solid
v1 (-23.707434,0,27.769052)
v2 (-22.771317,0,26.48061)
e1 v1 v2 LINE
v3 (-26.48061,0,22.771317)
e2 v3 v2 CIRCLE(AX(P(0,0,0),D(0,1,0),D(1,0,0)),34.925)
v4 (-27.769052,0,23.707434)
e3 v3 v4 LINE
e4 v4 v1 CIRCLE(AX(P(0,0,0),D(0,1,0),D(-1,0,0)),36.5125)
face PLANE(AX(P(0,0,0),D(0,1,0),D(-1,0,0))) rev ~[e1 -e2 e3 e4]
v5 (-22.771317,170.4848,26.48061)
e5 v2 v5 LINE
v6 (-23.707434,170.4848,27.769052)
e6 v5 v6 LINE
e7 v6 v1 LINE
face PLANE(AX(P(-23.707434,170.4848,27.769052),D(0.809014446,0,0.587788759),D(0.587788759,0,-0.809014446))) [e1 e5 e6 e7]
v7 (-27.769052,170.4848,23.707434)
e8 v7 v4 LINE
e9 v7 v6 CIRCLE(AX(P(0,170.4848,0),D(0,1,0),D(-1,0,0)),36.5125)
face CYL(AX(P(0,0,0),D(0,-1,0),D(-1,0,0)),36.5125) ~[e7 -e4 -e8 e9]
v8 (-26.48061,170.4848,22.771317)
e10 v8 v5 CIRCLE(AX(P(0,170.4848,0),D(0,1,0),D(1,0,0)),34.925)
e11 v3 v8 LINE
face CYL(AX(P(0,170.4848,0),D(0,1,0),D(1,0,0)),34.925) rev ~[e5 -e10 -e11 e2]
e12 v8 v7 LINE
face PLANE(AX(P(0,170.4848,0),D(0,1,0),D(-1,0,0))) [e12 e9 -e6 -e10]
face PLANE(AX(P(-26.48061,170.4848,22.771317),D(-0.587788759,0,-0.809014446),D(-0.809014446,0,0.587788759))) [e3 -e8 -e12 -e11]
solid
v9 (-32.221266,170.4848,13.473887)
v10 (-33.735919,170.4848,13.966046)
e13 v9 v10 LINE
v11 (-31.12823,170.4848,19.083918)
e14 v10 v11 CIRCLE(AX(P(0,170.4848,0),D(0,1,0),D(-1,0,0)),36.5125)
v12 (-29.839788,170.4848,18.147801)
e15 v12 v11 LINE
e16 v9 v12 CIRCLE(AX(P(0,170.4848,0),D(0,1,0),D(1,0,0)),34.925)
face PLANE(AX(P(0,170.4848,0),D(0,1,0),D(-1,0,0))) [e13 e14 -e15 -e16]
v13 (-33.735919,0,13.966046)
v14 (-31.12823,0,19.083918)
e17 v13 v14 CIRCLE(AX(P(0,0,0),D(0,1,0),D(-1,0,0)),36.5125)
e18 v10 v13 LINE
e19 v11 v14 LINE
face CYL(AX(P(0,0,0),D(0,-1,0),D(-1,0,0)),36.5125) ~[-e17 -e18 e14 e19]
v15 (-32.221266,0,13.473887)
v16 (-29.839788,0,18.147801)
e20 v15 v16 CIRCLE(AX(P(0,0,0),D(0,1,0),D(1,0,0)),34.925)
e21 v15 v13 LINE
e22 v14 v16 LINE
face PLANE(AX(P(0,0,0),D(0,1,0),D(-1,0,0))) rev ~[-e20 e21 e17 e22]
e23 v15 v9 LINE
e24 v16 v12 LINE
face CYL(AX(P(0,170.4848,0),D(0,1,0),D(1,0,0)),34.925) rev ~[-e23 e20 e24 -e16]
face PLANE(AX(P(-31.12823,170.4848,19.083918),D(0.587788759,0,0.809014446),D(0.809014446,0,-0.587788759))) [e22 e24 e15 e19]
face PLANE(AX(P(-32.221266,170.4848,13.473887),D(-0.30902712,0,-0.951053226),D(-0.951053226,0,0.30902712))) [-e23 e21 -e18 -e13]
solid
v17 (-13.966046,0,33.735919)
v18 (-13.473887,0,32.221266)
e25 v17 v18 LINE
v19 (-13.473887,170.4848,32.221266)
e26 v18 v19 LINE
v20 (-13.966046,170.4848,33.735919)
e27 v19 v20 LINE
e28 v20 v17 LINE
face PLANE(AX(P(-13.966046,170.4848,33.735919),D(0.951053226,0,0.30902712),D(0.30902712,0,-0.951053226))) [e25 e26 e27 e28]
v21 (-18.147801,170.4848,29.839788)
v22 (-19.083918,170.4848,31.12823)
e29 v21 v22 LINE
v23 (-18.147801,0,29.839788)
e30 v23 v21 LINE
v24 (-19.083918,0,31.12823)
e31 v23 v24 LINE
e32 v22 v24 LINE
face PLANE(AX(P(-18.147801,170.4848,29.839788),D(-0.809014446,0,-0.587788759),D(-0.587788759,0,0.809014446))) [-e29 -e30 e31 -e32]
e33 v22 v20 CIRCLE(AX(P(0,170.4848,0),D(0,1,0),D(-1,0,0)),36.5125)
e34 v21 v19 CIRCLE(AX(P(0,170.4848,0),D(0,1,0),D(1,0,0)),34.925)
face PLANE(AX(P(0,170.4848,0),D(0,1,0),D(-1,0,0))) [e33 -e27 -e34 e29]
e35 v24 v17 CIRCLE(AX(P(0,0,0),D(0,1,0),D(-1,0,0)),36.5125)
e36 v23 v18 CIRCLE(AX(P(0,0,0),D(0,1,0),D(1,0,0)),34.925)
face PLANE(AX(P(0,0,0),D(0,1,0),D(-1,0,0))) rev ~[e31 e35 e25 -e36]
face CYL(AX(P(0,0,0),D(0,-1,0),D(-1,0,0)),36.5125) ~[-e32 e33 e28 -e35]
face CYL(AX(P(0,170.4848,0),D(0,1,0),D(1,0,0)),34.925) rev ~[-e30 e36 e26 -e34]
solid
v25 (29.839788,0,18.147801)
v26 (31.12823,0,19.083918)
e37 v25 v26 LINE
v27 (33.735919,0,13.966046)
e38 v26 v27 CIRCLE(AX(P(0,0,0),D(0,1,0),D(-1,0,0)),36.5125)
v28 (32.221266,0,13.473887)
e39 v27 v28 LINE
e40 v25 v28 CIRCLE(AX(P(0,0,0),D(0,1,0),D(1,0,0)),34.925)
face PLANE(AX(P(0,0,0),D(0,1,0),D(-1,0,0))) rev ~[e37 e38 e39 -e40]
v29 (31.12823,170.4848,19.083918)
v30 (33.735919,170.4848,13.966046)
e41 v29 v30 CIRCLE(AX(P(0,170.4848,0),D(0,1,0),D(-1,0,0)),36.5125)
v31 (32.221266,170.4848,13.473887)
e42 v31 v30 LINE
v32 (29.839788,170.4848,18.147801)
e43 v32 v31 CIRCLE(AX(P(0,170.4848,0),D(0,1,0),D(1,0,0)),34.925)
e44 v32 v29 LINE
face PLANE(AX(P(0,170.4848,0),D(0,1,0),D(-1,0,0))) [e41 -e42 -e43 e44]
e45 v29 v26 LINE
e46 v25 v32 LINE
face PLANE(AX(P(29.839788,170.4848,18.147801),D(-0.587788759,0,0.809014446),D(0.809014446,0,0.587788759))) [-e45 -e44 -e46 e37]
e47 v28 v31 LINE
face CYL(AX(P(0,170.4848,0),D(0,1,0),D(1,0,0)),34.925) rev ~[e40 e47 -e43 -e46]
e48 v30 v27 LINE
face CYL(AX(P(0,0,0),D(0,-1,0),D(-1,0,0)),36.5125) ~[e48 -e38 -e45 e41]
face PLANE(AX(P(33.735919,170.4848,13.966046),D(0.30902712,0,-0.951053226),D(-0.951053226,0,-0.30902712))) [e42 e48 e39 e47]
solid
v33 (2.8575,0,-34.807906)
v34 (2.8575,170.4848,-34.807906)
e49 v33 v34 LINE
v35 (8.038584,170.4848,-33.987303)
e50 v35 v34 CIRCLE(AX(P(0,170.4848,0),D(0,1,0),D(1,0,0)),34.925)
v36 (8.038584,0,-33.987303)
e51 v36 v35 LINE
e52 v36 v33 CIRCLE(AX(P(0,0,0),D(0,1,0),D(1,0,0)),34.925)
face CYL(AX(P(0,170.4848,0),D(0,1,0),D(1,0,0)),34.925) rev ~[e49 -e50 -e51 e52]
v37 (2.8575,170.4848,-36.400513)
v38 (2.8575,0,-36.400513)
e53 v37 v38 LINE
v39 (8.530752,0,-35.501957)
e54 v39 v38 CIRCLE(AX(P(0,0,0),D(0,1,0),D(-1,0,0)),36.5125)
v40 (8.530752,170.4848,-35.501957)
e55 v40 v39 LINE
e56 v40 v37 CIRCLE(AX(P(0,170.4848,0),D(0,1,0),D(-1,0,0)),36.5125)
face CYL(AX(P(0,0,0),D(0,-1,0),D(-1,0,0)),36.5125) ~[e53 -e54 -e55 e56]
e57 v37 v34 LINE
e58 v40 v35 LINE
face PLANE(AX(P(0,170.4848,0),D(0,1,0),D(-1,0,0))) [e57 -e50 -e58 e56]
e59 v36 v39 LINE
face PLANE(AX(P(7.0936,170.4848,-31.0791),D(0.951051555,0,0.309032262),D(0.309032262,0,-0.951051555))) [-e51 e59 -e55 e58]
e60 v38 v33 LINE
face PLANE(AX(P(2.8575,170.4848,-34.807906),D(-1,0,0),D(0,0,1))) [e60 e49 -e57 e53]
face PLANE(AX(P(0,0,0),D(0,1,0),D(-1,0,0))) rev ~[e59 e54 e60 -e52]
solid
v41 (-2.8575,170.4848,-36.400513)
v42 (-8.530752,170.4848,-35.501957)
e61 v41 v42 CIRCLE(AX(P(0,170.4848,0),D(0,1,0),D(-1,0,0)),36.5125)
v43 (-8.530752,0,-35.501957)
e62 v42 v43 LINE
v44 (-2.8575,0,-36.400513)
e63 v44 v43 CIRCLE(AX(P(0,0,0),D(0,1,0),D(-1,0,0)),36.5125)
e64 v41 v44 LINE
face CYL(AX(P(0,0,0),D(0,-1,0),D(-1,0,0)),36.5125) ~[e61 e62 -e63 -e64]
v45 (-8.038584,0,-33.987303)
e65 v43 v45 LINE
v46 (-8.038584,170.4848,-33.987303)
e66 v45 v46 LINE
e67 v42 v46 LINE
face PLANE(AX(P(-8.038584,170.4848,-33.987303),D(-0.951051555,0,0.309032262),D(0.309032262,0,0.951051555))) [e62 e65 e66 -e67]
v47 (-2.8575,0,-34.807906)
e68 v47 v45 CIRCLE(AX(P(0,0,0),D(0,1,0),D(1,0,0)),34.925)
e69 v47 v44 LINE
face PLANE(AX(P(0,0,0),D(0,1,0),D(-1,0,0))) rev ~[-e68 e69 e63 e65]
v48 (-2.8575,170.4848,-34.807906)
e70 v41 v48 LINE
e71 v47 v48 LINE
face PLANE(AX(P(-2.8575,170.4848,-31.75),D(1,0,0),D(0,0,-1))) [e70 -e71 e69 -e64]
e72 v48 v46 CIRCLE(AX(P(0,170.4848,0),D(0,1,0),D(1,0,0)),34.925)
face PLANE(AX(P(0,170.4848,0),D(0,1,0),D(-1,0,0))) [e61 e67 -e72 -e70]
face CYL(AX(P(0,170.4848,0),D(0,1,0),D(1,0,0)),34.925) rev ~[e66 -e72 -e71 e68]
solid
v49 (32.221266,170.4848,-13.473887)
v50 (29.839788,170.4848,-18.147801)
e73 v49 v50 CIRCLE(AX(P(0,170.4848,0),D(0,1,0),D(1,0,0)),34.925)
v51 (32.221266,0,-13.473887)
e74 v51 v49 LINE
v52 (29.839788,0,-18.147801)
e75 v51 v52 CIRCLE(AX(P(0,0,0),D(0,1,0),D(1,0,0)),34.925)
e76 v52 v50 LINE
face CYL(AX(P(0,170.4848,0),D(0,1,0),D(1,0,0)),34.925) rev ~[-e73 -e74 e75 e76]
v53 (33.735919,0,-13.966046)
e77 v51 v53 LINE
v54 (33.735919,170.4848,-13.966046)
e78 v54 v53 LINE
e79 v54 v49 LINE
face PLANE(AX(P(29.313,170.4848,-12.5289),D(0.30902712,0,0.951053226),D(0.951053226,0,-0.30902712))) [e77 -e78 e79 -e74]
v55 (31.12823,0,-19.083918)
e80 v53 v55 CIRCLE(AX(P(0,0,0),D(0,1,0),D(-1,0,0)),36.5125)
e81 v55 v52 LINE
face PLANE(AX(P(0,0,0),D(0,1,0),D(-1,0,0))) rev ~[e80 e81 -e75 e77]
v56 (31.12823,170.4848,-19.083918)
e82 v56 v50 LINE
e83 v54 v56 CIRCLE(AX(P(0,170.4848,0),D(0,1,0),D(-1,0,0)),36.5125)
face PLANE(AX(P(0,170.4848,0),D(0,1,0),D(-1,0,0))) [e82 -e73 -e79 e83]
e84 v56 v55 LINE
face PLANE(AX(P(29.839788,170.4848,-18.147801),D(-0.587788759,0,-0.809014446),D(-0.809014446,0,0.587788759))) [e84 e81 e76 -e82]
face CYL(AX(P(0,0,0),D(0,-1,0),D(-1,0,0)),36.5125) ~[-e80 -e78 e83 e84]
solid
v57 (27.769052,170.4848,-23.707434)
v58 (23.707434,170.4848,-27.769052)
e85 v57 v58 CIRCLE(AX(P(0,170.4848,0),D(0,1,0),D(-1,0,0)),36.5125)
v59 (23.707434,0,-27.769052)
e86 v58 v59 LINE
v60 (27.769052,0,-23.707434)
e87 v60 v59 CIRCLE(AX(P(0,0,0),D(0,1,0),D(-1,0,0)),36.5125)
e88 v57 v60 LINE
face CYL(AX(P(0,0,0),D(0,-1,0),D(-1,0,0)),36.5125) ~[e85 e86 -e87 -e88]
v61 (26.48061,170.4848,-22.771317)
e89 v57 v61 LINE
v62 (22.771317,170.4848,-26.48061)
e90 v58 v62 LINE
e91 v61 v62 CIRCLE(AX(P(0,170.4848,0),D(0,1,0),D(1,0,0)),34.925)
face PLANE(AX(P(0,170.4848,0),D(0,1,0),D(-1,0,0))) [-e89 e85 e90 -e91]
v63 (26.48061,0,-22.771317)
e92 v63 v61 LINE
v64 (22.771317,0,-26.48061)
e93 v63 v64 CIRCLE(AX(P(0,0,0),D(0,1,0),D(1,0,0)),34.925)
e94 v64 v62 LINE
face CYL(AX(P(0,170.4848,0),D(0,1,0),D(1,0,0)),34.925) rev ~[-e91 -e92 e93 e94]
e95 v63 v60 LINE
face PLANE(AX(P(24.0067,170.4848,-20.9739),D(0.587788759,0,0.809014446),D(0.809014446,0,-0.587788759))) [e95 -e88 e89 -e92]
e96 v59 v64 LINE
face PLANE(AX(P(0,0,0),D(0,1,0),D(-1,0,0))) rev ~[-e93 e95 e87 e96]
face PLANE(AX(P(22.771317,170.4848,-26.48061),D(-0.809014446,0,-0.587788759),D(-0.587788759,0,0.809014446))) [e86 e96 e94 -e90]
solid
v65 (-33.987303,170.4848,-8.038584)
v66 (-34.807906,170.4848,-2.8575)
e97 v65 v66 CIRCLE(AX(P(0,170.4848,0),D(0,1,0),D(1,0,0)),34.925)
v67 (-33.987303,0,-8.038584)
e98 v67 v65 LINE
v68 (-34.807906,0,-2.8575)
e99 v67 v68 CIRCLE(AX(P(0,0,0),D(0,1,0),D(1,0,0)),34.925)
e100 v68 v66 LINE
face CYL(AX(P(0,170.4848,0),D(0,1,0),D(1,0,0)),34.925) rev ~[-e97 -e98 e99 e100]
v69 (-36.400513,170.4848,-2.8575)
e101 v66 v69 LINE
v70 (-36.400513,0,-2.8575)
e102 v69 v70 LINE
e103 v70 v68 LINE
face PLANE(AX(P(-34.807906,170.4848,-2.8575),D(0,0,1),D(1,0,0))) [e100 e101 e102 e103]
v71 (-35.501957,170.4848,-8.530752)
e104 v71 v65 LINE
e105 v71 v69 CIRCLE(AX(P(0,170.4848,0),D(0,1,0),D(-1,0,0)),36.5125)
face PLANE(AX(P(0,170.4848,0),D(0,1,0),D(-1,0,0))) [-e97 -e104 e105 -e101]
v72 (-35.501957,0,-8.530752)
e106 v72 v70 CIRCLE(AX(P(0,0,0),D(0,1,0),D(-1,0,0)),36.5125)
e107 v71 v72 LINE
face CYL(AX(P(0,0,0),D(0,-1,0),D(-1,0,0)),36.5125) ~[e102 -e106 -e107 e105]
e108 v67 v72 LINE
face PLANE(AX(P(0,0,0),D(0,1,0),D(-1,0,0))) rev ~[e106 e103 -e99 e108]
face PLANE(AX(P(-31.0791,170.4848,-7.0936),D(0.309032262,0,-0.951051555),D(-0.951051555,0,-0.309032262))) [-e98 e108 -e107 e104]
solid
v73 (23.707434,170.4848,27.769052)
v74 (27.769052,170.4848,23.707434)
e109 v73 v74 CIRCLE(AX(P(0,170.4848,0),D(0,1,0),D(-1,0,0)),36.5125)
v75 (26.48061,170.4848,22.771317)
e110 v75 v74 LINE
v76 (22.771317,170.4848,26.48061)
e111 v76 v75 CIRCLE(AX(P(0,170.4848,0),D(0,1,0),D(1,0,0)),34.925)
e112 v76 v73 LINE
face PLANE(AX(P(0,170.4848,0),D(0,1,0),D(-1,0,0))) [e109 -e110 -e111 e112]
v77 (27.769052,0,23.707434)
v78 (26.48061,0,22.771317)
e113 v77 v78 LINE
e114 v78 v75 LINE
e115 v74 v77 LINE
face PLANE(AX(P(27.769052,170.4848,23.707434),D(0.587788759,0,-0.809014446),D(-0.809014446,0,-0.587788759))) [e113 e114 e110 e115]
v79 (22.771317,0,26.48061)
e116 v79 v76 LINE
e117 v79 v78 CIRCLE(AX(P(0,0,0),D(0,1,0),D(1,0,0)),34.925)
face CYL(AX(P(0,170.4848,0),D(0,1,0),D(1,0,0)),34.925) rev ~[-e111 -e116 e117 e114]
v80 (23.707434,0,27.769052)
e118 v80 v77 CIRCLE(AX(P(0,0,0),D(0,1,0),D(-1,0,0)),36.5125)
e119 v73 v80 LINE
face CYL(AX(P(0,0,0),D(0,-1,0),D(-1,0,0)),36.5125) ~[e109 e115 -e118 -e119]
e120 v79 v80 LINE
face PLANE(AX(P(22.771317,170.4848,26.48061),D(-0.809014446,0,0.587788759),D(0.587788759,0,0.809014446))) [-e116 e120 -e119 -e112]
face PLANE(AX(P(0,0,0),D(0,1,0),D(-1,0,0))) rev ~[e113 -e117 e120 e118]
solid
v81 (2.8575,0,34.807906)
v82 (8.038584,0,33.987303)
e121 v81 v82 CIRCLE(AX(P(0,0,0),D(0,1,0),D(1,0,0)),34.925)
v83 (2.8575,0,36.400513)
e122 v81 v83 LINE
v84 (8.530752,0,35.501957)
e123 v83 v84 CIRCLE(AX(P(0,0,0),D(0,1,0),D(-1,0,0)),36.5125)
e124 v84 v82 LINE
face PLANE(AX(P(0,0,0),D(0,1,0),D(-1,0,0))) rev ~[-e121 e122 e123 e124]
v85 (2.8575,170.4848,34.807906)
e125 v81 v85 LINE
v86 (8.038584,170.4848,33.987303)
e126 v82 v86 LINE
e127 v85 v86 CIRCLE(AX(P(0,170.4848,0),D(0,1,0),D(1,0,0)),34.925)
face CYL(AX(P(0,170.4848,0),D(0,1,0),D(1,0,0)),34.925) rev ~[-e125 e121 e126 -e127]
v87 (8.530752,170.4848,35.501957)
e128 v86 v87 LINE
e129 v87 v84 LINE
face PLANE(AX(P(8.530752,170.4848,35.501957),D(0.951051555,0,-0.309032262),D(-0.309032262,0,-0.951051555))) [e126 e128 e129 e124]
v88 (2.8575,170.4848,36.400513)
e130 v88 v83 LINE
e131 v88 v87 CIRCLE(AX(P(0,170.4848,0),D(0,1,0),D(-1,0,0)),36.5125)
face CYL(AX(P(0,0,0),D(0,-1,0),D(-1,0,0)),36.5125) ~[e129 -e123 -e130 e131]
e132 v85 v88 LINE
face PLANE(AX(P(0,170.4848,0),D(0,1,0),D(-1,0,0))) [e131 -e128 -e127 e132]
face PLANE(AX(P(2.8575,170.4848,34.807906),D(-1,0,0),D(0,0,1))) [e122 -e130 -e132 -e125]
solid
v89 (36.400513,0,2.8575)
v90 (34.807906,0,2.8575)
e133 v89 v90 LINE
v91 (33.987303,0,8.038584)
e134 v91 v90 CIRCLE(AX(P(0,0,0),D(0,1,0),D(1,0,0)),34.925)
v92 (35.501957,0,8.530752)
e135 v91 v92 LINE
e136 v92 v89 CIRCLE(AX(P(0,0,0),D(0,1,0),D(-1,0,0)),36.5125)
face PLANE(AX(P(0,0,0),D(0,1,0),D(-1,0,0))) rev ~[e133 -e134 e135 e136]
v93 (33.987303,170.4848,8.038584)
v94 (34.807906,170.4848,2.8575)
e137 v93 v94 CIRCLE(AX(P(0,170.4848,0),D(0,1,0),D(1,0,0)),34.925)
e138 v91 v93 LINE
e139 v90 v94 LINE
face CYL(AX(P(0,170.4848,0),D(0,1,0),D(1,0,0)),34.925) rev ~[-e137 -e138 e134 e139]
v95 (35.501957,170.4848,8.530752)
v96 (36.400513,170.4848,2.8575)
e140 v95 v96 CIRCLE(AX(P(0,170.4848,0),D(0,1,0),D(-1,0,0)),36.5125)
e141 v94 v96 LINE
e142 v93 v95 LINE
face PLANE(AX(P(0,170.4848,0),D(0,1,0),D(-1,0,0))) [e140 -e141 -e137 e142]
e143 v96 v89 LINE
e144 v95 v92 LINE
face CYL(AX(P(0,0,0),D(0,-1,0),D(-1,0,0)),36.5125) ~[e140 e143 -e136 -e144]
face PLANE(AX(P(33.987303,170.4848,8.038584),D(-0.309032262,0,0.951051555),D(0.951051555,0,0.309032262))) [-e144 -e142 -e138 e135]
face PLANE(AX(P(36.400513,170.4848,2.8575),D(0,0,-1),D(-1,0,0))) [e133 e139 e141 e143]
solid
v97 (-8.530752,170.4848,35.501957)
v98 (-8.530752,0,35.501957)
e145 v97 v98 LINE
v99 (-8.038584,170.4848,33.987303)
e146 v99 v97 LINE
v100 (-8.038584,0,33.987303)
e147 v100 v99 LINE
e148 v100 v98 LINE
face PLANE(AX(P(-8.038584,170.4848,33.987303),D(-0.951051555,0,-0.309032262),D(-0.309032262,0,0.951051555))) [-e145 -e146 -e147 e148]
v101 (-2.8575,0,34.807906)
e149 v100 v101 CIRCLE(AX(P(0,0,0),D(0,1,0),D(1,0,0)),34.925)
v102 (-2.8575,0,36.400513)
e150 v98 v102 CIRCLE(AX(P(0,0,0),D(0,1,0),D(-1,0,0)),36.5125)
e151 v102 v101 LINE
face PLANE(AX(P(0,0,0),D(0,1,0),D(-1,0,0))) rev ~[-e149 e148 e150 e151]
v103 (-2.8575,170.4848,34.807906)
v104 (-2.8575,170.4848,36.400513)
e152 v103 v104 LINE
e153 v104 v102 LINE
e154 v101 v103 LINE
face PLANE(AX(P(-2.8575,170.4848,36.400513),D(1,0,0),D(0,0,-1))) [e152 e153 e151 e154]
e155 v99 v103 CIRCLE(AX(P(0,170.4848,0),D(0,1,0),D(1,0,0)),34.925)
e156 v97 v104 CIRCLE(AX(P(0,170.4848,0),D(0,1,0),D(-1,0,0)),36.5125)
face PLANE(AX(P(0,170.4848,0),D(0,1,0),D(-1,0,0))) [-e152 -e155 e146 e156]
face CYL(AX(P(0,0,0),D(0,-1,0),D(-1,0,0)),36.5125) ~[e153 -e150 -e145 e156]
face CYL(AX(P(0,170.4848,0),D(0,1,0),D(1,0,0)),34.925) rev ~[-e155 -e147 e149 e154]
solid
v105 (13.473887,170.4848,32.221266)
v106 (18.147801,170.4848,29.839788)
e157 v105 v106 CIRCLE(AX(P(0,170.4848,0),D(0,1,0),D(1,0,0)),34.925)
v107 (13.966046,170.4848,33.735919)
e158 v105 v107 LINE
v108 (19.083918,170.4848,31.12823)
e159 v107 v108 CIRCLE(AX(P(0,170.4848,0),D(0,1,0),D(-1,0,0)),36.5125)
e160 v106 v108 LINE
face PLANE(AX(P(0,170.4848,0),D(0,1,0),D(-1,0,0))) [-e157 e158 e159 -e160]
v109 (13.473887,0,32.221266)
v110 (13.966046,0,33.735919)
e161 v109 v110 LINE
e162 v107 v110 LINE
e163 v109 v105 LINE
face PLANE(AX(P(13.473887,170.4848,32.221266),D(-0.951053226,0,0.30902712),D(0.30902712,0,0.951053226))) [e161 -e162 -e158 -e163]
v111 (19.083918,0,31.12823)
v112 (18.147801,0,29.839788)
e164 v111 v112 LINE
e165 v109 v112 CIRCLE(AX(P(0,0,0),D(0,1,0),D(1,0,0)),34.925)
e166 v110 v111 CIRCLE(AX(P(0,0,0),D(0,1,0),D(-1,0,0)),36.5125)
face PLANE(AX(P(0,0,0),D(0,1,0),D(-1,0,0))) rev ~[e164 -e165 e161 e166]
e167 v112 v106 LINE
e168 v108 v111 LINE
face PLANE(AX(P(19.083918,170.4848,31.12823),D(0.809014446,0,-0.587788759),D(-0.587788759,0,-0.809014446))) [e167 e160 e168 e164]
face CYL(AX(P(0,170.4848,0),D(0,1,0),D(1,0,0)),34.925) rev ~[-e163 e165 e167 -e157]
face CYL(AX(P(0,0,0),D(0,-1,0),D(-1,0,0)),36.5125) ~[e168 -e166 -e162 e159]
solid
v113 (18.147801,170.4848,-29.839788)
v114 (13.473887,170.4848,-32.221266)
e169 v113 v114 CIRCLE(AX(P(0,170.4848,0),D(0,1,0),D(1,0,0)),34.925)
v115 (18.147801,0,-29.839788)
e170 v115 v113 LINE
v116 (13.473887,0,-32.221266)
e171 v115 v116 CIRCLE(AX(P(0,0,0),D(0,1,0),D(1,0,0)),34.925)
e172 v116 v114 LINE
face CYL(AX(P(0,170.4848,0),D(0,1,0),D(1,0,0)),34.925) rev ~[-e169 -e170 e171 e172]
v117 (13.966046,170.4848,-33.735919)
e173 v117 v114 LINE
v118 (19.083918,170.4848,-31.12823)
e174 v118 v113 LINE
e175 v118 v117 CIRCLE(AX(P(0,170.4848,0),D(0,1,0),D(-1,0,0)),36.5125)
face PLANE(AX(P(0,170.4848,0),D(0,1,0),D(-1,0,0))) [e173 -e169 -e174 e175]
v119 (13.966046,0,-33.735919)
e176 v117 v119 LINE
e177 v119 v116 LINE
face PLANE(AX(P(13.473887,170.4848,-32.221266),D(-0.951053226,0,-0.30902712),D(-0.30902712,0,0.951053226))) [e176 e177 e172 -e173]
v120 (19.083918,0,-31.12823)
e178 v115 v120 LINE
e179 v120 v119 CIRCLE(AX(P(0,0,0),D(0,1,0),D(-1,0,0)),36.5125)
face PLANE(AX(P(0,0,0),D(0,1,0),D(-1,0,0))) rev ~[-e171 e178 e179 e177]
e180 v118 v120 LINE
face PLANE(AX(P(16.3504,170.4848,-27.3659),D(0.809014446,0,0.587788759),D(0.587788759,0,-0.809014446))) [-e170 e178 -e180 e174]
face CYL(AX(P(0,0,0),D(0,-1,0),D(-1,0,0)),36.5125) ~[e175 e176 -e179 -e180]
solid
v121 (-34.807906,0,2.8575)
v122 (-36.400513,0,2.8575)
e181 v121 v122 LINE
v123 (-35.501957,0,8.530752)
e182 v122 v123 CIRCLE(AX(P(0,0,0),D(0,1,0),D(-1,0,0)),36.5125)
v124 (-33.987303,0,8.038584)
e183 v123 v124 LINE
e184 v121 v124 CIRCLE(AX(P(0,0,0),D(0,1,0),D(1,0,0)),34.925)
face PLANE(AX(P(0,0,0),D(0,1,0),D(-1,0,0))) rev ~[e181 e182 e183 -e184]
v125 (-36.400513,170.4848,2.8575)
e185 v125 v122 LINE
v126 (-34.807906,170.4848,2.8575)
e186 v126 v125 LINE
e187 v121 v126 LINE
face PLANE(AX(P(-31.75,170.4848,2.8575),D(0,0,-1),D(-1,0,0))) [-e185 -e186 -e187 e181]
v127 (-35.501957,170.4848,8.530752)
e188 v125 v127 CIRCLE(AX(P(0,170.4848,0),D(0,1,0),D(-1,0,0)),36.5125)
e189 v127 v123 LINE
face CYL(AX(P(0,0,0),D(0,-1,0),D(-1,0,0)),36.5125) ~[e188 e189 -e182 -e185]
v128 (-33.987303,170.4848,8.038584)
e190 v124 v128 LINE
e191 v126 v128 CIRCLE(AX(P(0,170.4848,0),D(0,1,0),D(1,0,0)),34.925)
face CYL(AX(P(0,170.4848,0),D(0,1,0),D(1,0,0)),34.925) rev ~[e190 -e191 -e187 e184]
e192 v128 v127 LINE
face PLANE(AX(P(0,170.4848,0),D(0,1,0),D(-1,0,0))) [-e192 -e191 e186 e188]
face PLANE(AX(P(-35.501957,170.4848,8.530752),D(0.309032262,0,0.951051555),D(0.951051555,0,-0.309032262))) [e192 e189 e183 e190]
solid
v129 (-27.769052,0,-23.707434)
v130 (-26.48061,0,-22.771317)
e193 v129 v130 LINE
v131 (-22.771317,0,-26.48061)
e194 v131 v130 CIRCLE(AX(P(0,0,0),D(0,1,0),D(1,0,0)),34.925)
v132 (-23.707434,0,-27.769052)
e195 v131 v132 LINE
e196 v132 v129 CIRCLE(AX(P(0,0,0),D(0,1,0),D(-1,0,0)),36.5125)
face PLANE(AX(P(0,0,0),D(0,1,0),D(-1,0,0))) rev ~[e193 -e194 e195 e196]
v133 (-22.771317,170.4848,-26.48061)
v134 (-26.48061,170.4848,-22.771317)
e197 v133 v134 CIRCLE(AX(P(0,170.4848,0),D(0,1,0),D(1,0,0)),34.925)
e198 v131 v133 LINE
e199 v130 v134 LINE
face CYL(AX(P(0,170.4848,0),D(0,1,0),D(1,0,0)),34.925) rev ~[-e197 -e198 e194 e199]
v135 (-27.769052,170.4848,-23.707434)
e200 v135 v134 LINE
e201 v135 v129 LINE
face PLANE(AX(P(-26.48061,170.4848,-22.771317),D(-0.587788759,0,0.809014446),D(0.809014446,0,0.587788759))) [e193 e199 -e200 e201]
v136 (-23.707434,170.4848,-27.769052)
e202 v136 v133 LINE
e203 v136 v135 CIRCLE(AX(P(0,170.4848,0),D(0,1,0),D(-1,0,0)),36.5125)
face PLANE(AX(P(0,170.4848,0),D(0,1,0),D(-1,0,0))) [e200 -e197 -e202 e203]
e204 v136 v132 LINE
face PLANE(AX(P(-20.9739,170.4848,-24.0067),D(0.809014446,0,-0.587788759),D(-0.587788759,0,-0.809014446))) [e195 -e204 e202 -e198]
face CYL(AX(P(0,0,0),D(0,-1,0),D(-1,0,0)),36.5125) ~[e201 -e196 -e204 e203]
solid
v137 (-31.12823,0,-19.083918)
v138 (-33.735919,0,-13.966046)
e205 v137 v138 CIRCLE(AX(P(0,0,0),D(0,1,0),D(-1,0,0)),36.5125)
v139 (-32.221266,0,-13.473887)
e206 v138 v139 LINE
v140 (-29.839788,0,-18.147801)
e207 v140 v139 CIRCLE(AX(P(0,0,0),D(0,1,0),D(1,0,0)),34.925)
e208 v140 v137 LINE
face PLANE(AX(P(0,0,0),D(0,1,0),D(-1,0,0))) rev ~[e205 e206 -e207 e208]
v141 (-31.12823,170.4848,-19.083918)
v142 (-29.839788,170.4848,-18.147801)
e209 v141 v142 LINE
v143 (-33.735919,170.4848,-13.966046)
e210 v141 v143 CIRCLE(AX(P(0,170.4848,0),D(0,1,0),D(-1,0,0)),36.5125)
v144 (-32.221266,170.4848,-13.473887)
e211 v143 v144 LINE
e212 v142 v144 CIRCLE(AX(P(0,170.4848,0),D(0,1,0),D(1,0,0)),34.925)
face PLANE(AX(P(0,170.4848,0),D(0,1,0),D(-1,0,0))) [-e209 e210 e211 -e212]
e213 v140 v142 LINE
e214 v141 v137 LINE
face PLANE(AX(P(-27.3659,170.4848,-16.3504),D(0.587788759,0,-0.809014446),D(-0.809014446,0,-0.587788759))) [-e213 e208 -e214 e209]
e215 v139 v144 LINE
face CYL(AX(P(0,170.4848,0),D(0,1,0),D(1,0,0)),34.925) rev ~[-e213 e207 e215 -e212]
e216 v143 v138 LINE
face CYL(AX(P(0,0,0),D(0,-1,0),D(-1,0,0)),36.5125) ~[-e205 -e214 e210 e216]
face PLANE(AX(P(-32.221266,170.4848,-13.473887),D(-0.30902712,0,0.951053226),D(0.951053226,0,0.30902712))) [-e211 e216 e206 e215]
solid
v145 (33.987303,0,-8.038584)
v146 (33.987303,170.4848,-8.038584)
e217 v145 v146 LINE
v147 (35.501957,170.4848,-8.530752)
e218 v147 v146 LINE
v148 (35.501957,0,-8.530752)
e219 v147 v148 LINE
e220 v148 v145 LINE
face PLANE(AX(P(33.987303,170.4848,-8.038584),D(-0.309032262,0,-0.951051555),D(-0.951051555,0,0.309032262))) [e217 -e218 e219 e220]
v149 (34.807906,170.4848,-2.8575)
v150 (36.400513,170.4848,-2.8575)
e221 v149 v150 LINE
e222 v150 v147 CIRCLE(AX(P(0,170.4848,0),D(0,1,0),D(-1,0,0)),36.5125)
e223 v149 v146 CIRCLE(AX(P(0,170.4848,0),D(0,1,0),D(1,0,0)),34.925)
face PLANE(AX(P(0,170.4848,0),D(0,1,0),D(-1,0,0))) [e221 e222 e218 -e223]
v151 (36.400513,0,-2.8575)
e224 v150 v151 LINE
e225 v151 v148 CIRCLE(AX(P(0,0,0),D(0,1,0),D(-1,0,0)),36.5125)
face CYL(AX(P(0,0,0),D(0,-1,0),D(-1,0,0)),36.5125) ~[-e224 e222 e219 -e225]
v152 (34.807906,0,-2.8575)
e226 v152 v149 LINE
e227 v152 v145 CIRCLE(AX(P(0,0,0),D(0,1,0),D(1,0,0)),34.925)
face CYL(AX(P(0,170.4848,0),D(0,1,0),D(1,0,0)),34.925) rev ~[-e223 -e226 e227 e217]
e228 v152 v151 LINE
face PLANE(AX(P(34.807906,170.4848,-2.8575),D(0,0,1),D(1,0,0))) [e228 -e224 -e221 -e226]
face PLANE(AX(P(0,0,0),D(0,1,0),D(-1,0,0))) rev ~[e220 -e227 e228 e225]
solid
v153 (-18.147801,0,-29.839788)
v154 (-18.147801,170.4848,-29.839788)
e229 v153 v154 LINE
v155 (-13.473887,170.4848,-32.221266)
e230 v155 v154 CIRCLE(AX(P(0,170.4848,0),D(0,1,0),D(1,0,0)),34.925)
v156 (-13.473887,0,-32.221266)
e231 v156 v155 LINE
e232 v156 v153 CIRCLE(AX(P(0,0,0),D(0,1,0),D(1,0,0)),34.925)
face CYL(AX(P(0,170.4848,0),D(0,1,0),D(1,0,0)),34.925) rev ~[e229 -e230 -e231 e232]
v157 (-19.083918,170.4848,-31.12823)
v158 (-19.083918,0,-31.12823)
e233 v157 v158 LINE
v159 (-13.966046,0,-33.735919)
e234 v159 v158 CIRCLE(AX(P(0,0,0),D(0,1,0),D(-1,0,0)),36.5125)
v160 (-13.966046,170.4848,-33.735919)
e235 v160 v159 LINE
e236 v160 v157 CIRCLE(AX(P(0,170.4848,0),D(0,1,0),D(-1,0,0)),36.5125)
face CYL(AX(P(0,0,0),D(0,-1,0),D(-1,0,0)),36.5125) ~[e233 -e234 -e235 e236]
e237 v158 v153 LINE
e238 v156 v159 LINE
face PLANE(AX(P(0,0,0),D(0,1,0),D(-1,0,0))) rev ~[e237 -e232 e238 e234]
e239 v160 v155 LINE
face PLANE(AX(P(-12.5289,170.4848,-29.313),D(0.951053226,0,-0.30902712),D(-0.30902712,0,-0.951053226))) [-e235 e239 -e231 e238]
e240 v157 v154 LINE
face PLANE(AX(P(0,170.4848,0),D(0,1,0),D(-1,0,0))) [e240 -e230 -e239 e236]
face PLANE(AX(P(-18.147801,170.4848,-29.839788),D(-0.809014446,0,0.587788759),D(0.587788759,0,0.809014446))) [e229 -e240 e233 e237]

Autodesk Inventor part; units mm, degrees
ref_plane "YZ Plane" through (0, 0, 0) normal (1, 0, 0) x (0, 1, 0)
ref_plane "XZ Plane" through (0, 0, 0) normal (0, 1, 0) x (-1, 0, 0)
ref_plane "XY Plane" through (0, 0, 0) normal (0, 0, 1) x (1, 0, 0)
sketch "Sketch1" plane through (0, 0, 0) normal (0, 1, 0) x (-1, 0, 0)
  circle A0 centre (0, 0) radius 36.5125
  dimension "d0" = 73.025
extrude "Extrusion1" add sketch "Sketch1" along normal blind 170.4848
sketch "Sketch2" plane through (0, 170.4848, 0) normal (0, 1, 0) x (1, 0, 0)
  circle A0 centre (0, 0) radius 34.925
  dimension "d3" = 69.85
extrude "Extrusion2" cut sketch "Sketch2" against normal through all
sketch "Sketch3" plane through (0, 170.4848, 0) normal (0, 1, 0) x (1, 0, 0)
  line L0 (-31.75, -2.8575) -> (-37.465, -2.8575)
  line L1 (-37.465, -2.8575) -> (-37.465, 2.8575)
  line L2 (-37.465, 2.8575) -> (-31.75, 2.8575)
  line L3 (-31.75, 2.8575) -> (-31.75, -2.8575)
  circle A0 centre (0, 0) radius 36.5125 projected
  line L4 (-29.313, -12.5289) -> (-34.7483, -14.295)
  line L5 (-34.7483, -14.295) -> (-36.5143, -8.8597)
  line L6 (-36.5143, -8.8597) -> (-31.0791, -7.0936)
  line L7 (-31.0791, -7.0936) -> (-29.313, -12.5289)
  line L8 (-24.0067, -20.9739) -> (-28.6302, -24.3331)
  line L9 (-28.6302, -24.3331) -> (-31.9894, -19.7096)
  line L10 (-31.9894, -19.7096) -> (-27.3659, -16.3504)
  line L11 (-27.3659, -16.3504) -> (-24.0067, -20.9739)
  line L12 (-16.3504, -27.3659) -> (-19.7096, -31.9894)
  line L13 (-19.7096, -31.9894) -> (-24.3331, -28.6302)
  line L14 (-24.3331, -28.6302) -> (-20.9739, -24.0067)
  line L15 (-20.9739, -24.0067) -> (-16.3504, -27.3659)
  line L16 (-7.0936, -31.0791) -> (-8.8597, -36.5143)
  line L17 (-8.8597, -36.5143) -> (-14.295, -34.7483)
  line L18 (-14.295, -34.7483) -> (-12.5289, -29.313)
  line L19 (-12.5289, -29.313) -> (-7.0936, -31.0791)
  line L20 (2.8575, -31.75) -> (2.8575, -37.465)
  line L21 (2.8575, -37.465) -> (-2.8575, -37.465)
  line L22 (-2.8575, -37.465) -> (-2.8575, -31.75)
  line L23 (-2.8575, -31.75) -> (2.8575, -31.75)
  line L24 (12.5289, -29.313) -> (14.295, -34.7483)
  line L25 (14.295, -34.7483) -> (8.8597, -36.5143)
  line L26 (8.8597, -36.5143) -> (7.0936, -31.0791)
  line L27 (7.0936, -31.0791) -> (12.5289, -29.313)
  line L28 (20.9739, -24.0067) -> (24.3331, -28.6302)
  line L29 (24.3331, -28.6302) -> (19.7096, -31.9894)
  line L30 (19.7096, -31.9894) -> (16.3504, -27.3659)
  line L31 (16.3504, -27.3659) -> (20.9739, -24.0067)
  line L32 (27.3659, -16.3504) -> (31.9894, -19.7096)
  line L33 (31.9894, -19.7096) -> (28.6302, -24.3331)
  line L34 (28.6302, -24.3331) -> (24.0067, -20.9739)
  line L35 (24.0067, -20.9739) -> (27.3659, -16.3504)
  line L36 (31.0791, -7.0936) -> (36.5143, -8.8597)
  line L37 (36.5143, -8.8597) -> (34.7483, -14.295)
  line L38 (34.7483, -14.295) -> (29.313, -12.5289)
  line L39 (29.313, -12.5289) -> (31.0791, -7.0936)
  line L40 (31.75, 2.8575) -> (37.465, 2.8575)
  line L41 (37.465, 2.8575) -> (37.465, -2.8575)
  line L42 (37.465, -2.8575) -> (31.75, -2.8575)
  line L43 (31.75, -2.8575) -> (31.75, 2.8575)
  line L44 (29.313, 12.5289) -> (34.7483, 14.295)
  line L45 (34.7483, 14.295) -> (36.5143, 8.8597)
  line L46 (36.5143, 8.8597) -> (31.0791, 7.0936)
  line L47 (31.0791, 7.0936) -> (29.313, 12.5289)
  line L48 (24.0067, 20.9739) -> (28.6302, 24.3331)
  line L49 (28.6302, 24.3331) -> (31.9894, 19.7096)
  line L50 (31.9894, 19.7096) -> (27.3659, 16.3504)
  line L51 (27.3659, 16.3504) -> (24.0067, 20.9739)
  line L52 (16.3504, 27.3659) -> (19.7096, 31.9894)
  line L53 (19.7096, 31.9894) -> (24.3331, 28.6302)
  line L54 (24.3331, 28.6302) -> (20.9739, 24.0067)
  line L55 (20.9739, 24.0067) -> (16.3504, 27.3659)
  line L56 (7.0936, 31.0791) -> (8.8597, 36.5143)
  line L57 (8.8597, 36.5143) -> (14.295, 34.7483)
  line L58 (14.295, 34.7483) -> (12.5289, 29.313)
  line L59 (12.5289, 29.313) -> (7.0936, 31.0791)
  line L60 (-2.8575, 31.75) -> (-2.8575, 37.465)
  line L61 (-2.8575, 37.465) -> (2.8575, 37.465)
  line L62 (2.8575, 37.465) -> (2.8575, 31.75)
  line L63 (2.8575, 31.75) -> (-2.8575, 31.75)
  line L64 (-12.5289, 29.313) -> (-14.295, 34.7483)
  line L65 (-14.295, 34.7483) -> (-8.8597, 36.5143)
  line L66 (-8.8597, 36.5143) -> (-7.0936, 31.0791)
  line L67 (-7.0936, 31.0791) -> (-12.5289, 29.313)
  line L68 (-20.9739, 24.0067) -> (-24.3331, 28.6302)
  line L69 (-24.3331, 28.6302) -> (-19.7096, 31.9894)
  line L70 (-19.7096, 31.9894) -> (-16.3504, 27.3659)
  line L71 (-16.3504, 27.3659) -> (-20.9739, 24.0067)
  line L72 (-27.3659, 16.3504) -> (-31.9894, 19.7096)
  line L73 (-31.9894, 19.7096) -> (-28.6302, 24.3331)
  line L74 (-28.6302, 24.3331) -> (-24.0067, 20.9739)
  line L75 (-24.0067, 20.9739) -> (-27.3659, 16.3504)
  line L76 (-31.0791, 7.0936) -> (-36.5143, 8.8597)
  line L77 (-36.5143, 8.8597) -> (-34.7483, 14.295)
  line L78 (-34.7483, 14.295) -> (-29.313, 12.5289)
  line L79 (-29.313, 12.5289) -> (-31.0791, 7.0936)
  circle A1 centre (0, 0) radius 34.925 projected
  point P0 (-36.5125, 0)
  point P1 (-34.7255, -11.283)
  point P2 (-29.5392, -21.4615)
  point P3 (-21.4615, -29.5392)
  point P4 (-11.283, -34.7255)
  point P5 (0, -36.5125)
  point P6 (11.283, -34.7255)
  point P7 (21.4615, -29.5392)
  point P8 (29.5392, -21.4615)
  point P9 (34.7255, -11.283)
  point P10 (36.5125, 0)
  point P11 (34.7255, 11.283)
  point P12 (29.5392, 21.4615)
  point P13 (21.4615, 29.5392)
  point P14 (11.283, 34.7255)
  point P15 (0, 36.5125)
  point P16 (-11.283, 34.7255)
  point P17 (-21.4615, 29.5392)
  point P18 (-29.5392, 21.4615)
  point P19 (-34.7255, 11.283)
  dimension "d6" = 5.715
  dimension "d7" = 5.715
  dimension "d8" = 2.8575
  dimension "d13" = 360
  dimension "d15" = 2.54
extrude "Extrusion3" cut sketch "Sketch3" against normal through all contours L0 A1 L2 L3 | L0 A0 L2 A1 | L0 L1 L2 A0 | A1 L4 A0 L6 | L6 L7 L4 A1 | A0 L4 L5 L6 | A1 L78 L79 L76 | L76 A0 L78 A1 | L76 L77 L78 A0 | A1 L8 A0 L10 | L10 L11 L8 A1 | A0 L8 L9 L10 | A1 L74 L75 L72 | L72 A0 L74 A1 | L72 L73 L74 A0 | A1 L12 A0 L14 | L14 L15 L12 A1 | A0 L12 L13 L14 | A1 L70 L71 L68 | L68 A0 L70 A1 | L68 L69 L70 A0 | A1 L16 A0 L18 | L18 L19 L16 A1 | A0 L16 L17 L18 | A1 L66 L67 L64 | L64 A0 L66 A1 | L64 L65 L66 A0 | A1 L20 A0 L22 | L22 L23 L20 A1 | A0 L20 L21 L22 | A1 L62 L63 L60 | L60 A0 L62 A1 | L60 L61 L62 A0 | A1 L24 A0 L26 | L26 L27 L24 A1 | A0 L24 L25 L26 | A1 L58 L59 L56 | L56 A0 L58 A1 | L56 L57 L58 A0 | A1 L28 A0 L30 | L30 L31 L28 A1 | A0 L28 L29 L30 | A1 L54 L55 L52 | L52 A0 L54 A1 | L52 L53 L54 A0 | A1 L32 A0 L34 | L34 L35 L32 A1 | A0 L32 L33 L34 | A1 L50 L51 L48 | L48 A0 L50 A1 | L48 L49 L50 A0 | A1 L36 A0 L38 | L38 L39 L36 A1 | A0 L36 L37 L38 | A1 L46 L47 L44 | L44 A0 L46 A1 | L44 L45 L46 A0 | A1 L40 A0 L42 | L42 L43 L40 A1 | A0 L40 L41 L42
properties part number "bandsmidroller"
